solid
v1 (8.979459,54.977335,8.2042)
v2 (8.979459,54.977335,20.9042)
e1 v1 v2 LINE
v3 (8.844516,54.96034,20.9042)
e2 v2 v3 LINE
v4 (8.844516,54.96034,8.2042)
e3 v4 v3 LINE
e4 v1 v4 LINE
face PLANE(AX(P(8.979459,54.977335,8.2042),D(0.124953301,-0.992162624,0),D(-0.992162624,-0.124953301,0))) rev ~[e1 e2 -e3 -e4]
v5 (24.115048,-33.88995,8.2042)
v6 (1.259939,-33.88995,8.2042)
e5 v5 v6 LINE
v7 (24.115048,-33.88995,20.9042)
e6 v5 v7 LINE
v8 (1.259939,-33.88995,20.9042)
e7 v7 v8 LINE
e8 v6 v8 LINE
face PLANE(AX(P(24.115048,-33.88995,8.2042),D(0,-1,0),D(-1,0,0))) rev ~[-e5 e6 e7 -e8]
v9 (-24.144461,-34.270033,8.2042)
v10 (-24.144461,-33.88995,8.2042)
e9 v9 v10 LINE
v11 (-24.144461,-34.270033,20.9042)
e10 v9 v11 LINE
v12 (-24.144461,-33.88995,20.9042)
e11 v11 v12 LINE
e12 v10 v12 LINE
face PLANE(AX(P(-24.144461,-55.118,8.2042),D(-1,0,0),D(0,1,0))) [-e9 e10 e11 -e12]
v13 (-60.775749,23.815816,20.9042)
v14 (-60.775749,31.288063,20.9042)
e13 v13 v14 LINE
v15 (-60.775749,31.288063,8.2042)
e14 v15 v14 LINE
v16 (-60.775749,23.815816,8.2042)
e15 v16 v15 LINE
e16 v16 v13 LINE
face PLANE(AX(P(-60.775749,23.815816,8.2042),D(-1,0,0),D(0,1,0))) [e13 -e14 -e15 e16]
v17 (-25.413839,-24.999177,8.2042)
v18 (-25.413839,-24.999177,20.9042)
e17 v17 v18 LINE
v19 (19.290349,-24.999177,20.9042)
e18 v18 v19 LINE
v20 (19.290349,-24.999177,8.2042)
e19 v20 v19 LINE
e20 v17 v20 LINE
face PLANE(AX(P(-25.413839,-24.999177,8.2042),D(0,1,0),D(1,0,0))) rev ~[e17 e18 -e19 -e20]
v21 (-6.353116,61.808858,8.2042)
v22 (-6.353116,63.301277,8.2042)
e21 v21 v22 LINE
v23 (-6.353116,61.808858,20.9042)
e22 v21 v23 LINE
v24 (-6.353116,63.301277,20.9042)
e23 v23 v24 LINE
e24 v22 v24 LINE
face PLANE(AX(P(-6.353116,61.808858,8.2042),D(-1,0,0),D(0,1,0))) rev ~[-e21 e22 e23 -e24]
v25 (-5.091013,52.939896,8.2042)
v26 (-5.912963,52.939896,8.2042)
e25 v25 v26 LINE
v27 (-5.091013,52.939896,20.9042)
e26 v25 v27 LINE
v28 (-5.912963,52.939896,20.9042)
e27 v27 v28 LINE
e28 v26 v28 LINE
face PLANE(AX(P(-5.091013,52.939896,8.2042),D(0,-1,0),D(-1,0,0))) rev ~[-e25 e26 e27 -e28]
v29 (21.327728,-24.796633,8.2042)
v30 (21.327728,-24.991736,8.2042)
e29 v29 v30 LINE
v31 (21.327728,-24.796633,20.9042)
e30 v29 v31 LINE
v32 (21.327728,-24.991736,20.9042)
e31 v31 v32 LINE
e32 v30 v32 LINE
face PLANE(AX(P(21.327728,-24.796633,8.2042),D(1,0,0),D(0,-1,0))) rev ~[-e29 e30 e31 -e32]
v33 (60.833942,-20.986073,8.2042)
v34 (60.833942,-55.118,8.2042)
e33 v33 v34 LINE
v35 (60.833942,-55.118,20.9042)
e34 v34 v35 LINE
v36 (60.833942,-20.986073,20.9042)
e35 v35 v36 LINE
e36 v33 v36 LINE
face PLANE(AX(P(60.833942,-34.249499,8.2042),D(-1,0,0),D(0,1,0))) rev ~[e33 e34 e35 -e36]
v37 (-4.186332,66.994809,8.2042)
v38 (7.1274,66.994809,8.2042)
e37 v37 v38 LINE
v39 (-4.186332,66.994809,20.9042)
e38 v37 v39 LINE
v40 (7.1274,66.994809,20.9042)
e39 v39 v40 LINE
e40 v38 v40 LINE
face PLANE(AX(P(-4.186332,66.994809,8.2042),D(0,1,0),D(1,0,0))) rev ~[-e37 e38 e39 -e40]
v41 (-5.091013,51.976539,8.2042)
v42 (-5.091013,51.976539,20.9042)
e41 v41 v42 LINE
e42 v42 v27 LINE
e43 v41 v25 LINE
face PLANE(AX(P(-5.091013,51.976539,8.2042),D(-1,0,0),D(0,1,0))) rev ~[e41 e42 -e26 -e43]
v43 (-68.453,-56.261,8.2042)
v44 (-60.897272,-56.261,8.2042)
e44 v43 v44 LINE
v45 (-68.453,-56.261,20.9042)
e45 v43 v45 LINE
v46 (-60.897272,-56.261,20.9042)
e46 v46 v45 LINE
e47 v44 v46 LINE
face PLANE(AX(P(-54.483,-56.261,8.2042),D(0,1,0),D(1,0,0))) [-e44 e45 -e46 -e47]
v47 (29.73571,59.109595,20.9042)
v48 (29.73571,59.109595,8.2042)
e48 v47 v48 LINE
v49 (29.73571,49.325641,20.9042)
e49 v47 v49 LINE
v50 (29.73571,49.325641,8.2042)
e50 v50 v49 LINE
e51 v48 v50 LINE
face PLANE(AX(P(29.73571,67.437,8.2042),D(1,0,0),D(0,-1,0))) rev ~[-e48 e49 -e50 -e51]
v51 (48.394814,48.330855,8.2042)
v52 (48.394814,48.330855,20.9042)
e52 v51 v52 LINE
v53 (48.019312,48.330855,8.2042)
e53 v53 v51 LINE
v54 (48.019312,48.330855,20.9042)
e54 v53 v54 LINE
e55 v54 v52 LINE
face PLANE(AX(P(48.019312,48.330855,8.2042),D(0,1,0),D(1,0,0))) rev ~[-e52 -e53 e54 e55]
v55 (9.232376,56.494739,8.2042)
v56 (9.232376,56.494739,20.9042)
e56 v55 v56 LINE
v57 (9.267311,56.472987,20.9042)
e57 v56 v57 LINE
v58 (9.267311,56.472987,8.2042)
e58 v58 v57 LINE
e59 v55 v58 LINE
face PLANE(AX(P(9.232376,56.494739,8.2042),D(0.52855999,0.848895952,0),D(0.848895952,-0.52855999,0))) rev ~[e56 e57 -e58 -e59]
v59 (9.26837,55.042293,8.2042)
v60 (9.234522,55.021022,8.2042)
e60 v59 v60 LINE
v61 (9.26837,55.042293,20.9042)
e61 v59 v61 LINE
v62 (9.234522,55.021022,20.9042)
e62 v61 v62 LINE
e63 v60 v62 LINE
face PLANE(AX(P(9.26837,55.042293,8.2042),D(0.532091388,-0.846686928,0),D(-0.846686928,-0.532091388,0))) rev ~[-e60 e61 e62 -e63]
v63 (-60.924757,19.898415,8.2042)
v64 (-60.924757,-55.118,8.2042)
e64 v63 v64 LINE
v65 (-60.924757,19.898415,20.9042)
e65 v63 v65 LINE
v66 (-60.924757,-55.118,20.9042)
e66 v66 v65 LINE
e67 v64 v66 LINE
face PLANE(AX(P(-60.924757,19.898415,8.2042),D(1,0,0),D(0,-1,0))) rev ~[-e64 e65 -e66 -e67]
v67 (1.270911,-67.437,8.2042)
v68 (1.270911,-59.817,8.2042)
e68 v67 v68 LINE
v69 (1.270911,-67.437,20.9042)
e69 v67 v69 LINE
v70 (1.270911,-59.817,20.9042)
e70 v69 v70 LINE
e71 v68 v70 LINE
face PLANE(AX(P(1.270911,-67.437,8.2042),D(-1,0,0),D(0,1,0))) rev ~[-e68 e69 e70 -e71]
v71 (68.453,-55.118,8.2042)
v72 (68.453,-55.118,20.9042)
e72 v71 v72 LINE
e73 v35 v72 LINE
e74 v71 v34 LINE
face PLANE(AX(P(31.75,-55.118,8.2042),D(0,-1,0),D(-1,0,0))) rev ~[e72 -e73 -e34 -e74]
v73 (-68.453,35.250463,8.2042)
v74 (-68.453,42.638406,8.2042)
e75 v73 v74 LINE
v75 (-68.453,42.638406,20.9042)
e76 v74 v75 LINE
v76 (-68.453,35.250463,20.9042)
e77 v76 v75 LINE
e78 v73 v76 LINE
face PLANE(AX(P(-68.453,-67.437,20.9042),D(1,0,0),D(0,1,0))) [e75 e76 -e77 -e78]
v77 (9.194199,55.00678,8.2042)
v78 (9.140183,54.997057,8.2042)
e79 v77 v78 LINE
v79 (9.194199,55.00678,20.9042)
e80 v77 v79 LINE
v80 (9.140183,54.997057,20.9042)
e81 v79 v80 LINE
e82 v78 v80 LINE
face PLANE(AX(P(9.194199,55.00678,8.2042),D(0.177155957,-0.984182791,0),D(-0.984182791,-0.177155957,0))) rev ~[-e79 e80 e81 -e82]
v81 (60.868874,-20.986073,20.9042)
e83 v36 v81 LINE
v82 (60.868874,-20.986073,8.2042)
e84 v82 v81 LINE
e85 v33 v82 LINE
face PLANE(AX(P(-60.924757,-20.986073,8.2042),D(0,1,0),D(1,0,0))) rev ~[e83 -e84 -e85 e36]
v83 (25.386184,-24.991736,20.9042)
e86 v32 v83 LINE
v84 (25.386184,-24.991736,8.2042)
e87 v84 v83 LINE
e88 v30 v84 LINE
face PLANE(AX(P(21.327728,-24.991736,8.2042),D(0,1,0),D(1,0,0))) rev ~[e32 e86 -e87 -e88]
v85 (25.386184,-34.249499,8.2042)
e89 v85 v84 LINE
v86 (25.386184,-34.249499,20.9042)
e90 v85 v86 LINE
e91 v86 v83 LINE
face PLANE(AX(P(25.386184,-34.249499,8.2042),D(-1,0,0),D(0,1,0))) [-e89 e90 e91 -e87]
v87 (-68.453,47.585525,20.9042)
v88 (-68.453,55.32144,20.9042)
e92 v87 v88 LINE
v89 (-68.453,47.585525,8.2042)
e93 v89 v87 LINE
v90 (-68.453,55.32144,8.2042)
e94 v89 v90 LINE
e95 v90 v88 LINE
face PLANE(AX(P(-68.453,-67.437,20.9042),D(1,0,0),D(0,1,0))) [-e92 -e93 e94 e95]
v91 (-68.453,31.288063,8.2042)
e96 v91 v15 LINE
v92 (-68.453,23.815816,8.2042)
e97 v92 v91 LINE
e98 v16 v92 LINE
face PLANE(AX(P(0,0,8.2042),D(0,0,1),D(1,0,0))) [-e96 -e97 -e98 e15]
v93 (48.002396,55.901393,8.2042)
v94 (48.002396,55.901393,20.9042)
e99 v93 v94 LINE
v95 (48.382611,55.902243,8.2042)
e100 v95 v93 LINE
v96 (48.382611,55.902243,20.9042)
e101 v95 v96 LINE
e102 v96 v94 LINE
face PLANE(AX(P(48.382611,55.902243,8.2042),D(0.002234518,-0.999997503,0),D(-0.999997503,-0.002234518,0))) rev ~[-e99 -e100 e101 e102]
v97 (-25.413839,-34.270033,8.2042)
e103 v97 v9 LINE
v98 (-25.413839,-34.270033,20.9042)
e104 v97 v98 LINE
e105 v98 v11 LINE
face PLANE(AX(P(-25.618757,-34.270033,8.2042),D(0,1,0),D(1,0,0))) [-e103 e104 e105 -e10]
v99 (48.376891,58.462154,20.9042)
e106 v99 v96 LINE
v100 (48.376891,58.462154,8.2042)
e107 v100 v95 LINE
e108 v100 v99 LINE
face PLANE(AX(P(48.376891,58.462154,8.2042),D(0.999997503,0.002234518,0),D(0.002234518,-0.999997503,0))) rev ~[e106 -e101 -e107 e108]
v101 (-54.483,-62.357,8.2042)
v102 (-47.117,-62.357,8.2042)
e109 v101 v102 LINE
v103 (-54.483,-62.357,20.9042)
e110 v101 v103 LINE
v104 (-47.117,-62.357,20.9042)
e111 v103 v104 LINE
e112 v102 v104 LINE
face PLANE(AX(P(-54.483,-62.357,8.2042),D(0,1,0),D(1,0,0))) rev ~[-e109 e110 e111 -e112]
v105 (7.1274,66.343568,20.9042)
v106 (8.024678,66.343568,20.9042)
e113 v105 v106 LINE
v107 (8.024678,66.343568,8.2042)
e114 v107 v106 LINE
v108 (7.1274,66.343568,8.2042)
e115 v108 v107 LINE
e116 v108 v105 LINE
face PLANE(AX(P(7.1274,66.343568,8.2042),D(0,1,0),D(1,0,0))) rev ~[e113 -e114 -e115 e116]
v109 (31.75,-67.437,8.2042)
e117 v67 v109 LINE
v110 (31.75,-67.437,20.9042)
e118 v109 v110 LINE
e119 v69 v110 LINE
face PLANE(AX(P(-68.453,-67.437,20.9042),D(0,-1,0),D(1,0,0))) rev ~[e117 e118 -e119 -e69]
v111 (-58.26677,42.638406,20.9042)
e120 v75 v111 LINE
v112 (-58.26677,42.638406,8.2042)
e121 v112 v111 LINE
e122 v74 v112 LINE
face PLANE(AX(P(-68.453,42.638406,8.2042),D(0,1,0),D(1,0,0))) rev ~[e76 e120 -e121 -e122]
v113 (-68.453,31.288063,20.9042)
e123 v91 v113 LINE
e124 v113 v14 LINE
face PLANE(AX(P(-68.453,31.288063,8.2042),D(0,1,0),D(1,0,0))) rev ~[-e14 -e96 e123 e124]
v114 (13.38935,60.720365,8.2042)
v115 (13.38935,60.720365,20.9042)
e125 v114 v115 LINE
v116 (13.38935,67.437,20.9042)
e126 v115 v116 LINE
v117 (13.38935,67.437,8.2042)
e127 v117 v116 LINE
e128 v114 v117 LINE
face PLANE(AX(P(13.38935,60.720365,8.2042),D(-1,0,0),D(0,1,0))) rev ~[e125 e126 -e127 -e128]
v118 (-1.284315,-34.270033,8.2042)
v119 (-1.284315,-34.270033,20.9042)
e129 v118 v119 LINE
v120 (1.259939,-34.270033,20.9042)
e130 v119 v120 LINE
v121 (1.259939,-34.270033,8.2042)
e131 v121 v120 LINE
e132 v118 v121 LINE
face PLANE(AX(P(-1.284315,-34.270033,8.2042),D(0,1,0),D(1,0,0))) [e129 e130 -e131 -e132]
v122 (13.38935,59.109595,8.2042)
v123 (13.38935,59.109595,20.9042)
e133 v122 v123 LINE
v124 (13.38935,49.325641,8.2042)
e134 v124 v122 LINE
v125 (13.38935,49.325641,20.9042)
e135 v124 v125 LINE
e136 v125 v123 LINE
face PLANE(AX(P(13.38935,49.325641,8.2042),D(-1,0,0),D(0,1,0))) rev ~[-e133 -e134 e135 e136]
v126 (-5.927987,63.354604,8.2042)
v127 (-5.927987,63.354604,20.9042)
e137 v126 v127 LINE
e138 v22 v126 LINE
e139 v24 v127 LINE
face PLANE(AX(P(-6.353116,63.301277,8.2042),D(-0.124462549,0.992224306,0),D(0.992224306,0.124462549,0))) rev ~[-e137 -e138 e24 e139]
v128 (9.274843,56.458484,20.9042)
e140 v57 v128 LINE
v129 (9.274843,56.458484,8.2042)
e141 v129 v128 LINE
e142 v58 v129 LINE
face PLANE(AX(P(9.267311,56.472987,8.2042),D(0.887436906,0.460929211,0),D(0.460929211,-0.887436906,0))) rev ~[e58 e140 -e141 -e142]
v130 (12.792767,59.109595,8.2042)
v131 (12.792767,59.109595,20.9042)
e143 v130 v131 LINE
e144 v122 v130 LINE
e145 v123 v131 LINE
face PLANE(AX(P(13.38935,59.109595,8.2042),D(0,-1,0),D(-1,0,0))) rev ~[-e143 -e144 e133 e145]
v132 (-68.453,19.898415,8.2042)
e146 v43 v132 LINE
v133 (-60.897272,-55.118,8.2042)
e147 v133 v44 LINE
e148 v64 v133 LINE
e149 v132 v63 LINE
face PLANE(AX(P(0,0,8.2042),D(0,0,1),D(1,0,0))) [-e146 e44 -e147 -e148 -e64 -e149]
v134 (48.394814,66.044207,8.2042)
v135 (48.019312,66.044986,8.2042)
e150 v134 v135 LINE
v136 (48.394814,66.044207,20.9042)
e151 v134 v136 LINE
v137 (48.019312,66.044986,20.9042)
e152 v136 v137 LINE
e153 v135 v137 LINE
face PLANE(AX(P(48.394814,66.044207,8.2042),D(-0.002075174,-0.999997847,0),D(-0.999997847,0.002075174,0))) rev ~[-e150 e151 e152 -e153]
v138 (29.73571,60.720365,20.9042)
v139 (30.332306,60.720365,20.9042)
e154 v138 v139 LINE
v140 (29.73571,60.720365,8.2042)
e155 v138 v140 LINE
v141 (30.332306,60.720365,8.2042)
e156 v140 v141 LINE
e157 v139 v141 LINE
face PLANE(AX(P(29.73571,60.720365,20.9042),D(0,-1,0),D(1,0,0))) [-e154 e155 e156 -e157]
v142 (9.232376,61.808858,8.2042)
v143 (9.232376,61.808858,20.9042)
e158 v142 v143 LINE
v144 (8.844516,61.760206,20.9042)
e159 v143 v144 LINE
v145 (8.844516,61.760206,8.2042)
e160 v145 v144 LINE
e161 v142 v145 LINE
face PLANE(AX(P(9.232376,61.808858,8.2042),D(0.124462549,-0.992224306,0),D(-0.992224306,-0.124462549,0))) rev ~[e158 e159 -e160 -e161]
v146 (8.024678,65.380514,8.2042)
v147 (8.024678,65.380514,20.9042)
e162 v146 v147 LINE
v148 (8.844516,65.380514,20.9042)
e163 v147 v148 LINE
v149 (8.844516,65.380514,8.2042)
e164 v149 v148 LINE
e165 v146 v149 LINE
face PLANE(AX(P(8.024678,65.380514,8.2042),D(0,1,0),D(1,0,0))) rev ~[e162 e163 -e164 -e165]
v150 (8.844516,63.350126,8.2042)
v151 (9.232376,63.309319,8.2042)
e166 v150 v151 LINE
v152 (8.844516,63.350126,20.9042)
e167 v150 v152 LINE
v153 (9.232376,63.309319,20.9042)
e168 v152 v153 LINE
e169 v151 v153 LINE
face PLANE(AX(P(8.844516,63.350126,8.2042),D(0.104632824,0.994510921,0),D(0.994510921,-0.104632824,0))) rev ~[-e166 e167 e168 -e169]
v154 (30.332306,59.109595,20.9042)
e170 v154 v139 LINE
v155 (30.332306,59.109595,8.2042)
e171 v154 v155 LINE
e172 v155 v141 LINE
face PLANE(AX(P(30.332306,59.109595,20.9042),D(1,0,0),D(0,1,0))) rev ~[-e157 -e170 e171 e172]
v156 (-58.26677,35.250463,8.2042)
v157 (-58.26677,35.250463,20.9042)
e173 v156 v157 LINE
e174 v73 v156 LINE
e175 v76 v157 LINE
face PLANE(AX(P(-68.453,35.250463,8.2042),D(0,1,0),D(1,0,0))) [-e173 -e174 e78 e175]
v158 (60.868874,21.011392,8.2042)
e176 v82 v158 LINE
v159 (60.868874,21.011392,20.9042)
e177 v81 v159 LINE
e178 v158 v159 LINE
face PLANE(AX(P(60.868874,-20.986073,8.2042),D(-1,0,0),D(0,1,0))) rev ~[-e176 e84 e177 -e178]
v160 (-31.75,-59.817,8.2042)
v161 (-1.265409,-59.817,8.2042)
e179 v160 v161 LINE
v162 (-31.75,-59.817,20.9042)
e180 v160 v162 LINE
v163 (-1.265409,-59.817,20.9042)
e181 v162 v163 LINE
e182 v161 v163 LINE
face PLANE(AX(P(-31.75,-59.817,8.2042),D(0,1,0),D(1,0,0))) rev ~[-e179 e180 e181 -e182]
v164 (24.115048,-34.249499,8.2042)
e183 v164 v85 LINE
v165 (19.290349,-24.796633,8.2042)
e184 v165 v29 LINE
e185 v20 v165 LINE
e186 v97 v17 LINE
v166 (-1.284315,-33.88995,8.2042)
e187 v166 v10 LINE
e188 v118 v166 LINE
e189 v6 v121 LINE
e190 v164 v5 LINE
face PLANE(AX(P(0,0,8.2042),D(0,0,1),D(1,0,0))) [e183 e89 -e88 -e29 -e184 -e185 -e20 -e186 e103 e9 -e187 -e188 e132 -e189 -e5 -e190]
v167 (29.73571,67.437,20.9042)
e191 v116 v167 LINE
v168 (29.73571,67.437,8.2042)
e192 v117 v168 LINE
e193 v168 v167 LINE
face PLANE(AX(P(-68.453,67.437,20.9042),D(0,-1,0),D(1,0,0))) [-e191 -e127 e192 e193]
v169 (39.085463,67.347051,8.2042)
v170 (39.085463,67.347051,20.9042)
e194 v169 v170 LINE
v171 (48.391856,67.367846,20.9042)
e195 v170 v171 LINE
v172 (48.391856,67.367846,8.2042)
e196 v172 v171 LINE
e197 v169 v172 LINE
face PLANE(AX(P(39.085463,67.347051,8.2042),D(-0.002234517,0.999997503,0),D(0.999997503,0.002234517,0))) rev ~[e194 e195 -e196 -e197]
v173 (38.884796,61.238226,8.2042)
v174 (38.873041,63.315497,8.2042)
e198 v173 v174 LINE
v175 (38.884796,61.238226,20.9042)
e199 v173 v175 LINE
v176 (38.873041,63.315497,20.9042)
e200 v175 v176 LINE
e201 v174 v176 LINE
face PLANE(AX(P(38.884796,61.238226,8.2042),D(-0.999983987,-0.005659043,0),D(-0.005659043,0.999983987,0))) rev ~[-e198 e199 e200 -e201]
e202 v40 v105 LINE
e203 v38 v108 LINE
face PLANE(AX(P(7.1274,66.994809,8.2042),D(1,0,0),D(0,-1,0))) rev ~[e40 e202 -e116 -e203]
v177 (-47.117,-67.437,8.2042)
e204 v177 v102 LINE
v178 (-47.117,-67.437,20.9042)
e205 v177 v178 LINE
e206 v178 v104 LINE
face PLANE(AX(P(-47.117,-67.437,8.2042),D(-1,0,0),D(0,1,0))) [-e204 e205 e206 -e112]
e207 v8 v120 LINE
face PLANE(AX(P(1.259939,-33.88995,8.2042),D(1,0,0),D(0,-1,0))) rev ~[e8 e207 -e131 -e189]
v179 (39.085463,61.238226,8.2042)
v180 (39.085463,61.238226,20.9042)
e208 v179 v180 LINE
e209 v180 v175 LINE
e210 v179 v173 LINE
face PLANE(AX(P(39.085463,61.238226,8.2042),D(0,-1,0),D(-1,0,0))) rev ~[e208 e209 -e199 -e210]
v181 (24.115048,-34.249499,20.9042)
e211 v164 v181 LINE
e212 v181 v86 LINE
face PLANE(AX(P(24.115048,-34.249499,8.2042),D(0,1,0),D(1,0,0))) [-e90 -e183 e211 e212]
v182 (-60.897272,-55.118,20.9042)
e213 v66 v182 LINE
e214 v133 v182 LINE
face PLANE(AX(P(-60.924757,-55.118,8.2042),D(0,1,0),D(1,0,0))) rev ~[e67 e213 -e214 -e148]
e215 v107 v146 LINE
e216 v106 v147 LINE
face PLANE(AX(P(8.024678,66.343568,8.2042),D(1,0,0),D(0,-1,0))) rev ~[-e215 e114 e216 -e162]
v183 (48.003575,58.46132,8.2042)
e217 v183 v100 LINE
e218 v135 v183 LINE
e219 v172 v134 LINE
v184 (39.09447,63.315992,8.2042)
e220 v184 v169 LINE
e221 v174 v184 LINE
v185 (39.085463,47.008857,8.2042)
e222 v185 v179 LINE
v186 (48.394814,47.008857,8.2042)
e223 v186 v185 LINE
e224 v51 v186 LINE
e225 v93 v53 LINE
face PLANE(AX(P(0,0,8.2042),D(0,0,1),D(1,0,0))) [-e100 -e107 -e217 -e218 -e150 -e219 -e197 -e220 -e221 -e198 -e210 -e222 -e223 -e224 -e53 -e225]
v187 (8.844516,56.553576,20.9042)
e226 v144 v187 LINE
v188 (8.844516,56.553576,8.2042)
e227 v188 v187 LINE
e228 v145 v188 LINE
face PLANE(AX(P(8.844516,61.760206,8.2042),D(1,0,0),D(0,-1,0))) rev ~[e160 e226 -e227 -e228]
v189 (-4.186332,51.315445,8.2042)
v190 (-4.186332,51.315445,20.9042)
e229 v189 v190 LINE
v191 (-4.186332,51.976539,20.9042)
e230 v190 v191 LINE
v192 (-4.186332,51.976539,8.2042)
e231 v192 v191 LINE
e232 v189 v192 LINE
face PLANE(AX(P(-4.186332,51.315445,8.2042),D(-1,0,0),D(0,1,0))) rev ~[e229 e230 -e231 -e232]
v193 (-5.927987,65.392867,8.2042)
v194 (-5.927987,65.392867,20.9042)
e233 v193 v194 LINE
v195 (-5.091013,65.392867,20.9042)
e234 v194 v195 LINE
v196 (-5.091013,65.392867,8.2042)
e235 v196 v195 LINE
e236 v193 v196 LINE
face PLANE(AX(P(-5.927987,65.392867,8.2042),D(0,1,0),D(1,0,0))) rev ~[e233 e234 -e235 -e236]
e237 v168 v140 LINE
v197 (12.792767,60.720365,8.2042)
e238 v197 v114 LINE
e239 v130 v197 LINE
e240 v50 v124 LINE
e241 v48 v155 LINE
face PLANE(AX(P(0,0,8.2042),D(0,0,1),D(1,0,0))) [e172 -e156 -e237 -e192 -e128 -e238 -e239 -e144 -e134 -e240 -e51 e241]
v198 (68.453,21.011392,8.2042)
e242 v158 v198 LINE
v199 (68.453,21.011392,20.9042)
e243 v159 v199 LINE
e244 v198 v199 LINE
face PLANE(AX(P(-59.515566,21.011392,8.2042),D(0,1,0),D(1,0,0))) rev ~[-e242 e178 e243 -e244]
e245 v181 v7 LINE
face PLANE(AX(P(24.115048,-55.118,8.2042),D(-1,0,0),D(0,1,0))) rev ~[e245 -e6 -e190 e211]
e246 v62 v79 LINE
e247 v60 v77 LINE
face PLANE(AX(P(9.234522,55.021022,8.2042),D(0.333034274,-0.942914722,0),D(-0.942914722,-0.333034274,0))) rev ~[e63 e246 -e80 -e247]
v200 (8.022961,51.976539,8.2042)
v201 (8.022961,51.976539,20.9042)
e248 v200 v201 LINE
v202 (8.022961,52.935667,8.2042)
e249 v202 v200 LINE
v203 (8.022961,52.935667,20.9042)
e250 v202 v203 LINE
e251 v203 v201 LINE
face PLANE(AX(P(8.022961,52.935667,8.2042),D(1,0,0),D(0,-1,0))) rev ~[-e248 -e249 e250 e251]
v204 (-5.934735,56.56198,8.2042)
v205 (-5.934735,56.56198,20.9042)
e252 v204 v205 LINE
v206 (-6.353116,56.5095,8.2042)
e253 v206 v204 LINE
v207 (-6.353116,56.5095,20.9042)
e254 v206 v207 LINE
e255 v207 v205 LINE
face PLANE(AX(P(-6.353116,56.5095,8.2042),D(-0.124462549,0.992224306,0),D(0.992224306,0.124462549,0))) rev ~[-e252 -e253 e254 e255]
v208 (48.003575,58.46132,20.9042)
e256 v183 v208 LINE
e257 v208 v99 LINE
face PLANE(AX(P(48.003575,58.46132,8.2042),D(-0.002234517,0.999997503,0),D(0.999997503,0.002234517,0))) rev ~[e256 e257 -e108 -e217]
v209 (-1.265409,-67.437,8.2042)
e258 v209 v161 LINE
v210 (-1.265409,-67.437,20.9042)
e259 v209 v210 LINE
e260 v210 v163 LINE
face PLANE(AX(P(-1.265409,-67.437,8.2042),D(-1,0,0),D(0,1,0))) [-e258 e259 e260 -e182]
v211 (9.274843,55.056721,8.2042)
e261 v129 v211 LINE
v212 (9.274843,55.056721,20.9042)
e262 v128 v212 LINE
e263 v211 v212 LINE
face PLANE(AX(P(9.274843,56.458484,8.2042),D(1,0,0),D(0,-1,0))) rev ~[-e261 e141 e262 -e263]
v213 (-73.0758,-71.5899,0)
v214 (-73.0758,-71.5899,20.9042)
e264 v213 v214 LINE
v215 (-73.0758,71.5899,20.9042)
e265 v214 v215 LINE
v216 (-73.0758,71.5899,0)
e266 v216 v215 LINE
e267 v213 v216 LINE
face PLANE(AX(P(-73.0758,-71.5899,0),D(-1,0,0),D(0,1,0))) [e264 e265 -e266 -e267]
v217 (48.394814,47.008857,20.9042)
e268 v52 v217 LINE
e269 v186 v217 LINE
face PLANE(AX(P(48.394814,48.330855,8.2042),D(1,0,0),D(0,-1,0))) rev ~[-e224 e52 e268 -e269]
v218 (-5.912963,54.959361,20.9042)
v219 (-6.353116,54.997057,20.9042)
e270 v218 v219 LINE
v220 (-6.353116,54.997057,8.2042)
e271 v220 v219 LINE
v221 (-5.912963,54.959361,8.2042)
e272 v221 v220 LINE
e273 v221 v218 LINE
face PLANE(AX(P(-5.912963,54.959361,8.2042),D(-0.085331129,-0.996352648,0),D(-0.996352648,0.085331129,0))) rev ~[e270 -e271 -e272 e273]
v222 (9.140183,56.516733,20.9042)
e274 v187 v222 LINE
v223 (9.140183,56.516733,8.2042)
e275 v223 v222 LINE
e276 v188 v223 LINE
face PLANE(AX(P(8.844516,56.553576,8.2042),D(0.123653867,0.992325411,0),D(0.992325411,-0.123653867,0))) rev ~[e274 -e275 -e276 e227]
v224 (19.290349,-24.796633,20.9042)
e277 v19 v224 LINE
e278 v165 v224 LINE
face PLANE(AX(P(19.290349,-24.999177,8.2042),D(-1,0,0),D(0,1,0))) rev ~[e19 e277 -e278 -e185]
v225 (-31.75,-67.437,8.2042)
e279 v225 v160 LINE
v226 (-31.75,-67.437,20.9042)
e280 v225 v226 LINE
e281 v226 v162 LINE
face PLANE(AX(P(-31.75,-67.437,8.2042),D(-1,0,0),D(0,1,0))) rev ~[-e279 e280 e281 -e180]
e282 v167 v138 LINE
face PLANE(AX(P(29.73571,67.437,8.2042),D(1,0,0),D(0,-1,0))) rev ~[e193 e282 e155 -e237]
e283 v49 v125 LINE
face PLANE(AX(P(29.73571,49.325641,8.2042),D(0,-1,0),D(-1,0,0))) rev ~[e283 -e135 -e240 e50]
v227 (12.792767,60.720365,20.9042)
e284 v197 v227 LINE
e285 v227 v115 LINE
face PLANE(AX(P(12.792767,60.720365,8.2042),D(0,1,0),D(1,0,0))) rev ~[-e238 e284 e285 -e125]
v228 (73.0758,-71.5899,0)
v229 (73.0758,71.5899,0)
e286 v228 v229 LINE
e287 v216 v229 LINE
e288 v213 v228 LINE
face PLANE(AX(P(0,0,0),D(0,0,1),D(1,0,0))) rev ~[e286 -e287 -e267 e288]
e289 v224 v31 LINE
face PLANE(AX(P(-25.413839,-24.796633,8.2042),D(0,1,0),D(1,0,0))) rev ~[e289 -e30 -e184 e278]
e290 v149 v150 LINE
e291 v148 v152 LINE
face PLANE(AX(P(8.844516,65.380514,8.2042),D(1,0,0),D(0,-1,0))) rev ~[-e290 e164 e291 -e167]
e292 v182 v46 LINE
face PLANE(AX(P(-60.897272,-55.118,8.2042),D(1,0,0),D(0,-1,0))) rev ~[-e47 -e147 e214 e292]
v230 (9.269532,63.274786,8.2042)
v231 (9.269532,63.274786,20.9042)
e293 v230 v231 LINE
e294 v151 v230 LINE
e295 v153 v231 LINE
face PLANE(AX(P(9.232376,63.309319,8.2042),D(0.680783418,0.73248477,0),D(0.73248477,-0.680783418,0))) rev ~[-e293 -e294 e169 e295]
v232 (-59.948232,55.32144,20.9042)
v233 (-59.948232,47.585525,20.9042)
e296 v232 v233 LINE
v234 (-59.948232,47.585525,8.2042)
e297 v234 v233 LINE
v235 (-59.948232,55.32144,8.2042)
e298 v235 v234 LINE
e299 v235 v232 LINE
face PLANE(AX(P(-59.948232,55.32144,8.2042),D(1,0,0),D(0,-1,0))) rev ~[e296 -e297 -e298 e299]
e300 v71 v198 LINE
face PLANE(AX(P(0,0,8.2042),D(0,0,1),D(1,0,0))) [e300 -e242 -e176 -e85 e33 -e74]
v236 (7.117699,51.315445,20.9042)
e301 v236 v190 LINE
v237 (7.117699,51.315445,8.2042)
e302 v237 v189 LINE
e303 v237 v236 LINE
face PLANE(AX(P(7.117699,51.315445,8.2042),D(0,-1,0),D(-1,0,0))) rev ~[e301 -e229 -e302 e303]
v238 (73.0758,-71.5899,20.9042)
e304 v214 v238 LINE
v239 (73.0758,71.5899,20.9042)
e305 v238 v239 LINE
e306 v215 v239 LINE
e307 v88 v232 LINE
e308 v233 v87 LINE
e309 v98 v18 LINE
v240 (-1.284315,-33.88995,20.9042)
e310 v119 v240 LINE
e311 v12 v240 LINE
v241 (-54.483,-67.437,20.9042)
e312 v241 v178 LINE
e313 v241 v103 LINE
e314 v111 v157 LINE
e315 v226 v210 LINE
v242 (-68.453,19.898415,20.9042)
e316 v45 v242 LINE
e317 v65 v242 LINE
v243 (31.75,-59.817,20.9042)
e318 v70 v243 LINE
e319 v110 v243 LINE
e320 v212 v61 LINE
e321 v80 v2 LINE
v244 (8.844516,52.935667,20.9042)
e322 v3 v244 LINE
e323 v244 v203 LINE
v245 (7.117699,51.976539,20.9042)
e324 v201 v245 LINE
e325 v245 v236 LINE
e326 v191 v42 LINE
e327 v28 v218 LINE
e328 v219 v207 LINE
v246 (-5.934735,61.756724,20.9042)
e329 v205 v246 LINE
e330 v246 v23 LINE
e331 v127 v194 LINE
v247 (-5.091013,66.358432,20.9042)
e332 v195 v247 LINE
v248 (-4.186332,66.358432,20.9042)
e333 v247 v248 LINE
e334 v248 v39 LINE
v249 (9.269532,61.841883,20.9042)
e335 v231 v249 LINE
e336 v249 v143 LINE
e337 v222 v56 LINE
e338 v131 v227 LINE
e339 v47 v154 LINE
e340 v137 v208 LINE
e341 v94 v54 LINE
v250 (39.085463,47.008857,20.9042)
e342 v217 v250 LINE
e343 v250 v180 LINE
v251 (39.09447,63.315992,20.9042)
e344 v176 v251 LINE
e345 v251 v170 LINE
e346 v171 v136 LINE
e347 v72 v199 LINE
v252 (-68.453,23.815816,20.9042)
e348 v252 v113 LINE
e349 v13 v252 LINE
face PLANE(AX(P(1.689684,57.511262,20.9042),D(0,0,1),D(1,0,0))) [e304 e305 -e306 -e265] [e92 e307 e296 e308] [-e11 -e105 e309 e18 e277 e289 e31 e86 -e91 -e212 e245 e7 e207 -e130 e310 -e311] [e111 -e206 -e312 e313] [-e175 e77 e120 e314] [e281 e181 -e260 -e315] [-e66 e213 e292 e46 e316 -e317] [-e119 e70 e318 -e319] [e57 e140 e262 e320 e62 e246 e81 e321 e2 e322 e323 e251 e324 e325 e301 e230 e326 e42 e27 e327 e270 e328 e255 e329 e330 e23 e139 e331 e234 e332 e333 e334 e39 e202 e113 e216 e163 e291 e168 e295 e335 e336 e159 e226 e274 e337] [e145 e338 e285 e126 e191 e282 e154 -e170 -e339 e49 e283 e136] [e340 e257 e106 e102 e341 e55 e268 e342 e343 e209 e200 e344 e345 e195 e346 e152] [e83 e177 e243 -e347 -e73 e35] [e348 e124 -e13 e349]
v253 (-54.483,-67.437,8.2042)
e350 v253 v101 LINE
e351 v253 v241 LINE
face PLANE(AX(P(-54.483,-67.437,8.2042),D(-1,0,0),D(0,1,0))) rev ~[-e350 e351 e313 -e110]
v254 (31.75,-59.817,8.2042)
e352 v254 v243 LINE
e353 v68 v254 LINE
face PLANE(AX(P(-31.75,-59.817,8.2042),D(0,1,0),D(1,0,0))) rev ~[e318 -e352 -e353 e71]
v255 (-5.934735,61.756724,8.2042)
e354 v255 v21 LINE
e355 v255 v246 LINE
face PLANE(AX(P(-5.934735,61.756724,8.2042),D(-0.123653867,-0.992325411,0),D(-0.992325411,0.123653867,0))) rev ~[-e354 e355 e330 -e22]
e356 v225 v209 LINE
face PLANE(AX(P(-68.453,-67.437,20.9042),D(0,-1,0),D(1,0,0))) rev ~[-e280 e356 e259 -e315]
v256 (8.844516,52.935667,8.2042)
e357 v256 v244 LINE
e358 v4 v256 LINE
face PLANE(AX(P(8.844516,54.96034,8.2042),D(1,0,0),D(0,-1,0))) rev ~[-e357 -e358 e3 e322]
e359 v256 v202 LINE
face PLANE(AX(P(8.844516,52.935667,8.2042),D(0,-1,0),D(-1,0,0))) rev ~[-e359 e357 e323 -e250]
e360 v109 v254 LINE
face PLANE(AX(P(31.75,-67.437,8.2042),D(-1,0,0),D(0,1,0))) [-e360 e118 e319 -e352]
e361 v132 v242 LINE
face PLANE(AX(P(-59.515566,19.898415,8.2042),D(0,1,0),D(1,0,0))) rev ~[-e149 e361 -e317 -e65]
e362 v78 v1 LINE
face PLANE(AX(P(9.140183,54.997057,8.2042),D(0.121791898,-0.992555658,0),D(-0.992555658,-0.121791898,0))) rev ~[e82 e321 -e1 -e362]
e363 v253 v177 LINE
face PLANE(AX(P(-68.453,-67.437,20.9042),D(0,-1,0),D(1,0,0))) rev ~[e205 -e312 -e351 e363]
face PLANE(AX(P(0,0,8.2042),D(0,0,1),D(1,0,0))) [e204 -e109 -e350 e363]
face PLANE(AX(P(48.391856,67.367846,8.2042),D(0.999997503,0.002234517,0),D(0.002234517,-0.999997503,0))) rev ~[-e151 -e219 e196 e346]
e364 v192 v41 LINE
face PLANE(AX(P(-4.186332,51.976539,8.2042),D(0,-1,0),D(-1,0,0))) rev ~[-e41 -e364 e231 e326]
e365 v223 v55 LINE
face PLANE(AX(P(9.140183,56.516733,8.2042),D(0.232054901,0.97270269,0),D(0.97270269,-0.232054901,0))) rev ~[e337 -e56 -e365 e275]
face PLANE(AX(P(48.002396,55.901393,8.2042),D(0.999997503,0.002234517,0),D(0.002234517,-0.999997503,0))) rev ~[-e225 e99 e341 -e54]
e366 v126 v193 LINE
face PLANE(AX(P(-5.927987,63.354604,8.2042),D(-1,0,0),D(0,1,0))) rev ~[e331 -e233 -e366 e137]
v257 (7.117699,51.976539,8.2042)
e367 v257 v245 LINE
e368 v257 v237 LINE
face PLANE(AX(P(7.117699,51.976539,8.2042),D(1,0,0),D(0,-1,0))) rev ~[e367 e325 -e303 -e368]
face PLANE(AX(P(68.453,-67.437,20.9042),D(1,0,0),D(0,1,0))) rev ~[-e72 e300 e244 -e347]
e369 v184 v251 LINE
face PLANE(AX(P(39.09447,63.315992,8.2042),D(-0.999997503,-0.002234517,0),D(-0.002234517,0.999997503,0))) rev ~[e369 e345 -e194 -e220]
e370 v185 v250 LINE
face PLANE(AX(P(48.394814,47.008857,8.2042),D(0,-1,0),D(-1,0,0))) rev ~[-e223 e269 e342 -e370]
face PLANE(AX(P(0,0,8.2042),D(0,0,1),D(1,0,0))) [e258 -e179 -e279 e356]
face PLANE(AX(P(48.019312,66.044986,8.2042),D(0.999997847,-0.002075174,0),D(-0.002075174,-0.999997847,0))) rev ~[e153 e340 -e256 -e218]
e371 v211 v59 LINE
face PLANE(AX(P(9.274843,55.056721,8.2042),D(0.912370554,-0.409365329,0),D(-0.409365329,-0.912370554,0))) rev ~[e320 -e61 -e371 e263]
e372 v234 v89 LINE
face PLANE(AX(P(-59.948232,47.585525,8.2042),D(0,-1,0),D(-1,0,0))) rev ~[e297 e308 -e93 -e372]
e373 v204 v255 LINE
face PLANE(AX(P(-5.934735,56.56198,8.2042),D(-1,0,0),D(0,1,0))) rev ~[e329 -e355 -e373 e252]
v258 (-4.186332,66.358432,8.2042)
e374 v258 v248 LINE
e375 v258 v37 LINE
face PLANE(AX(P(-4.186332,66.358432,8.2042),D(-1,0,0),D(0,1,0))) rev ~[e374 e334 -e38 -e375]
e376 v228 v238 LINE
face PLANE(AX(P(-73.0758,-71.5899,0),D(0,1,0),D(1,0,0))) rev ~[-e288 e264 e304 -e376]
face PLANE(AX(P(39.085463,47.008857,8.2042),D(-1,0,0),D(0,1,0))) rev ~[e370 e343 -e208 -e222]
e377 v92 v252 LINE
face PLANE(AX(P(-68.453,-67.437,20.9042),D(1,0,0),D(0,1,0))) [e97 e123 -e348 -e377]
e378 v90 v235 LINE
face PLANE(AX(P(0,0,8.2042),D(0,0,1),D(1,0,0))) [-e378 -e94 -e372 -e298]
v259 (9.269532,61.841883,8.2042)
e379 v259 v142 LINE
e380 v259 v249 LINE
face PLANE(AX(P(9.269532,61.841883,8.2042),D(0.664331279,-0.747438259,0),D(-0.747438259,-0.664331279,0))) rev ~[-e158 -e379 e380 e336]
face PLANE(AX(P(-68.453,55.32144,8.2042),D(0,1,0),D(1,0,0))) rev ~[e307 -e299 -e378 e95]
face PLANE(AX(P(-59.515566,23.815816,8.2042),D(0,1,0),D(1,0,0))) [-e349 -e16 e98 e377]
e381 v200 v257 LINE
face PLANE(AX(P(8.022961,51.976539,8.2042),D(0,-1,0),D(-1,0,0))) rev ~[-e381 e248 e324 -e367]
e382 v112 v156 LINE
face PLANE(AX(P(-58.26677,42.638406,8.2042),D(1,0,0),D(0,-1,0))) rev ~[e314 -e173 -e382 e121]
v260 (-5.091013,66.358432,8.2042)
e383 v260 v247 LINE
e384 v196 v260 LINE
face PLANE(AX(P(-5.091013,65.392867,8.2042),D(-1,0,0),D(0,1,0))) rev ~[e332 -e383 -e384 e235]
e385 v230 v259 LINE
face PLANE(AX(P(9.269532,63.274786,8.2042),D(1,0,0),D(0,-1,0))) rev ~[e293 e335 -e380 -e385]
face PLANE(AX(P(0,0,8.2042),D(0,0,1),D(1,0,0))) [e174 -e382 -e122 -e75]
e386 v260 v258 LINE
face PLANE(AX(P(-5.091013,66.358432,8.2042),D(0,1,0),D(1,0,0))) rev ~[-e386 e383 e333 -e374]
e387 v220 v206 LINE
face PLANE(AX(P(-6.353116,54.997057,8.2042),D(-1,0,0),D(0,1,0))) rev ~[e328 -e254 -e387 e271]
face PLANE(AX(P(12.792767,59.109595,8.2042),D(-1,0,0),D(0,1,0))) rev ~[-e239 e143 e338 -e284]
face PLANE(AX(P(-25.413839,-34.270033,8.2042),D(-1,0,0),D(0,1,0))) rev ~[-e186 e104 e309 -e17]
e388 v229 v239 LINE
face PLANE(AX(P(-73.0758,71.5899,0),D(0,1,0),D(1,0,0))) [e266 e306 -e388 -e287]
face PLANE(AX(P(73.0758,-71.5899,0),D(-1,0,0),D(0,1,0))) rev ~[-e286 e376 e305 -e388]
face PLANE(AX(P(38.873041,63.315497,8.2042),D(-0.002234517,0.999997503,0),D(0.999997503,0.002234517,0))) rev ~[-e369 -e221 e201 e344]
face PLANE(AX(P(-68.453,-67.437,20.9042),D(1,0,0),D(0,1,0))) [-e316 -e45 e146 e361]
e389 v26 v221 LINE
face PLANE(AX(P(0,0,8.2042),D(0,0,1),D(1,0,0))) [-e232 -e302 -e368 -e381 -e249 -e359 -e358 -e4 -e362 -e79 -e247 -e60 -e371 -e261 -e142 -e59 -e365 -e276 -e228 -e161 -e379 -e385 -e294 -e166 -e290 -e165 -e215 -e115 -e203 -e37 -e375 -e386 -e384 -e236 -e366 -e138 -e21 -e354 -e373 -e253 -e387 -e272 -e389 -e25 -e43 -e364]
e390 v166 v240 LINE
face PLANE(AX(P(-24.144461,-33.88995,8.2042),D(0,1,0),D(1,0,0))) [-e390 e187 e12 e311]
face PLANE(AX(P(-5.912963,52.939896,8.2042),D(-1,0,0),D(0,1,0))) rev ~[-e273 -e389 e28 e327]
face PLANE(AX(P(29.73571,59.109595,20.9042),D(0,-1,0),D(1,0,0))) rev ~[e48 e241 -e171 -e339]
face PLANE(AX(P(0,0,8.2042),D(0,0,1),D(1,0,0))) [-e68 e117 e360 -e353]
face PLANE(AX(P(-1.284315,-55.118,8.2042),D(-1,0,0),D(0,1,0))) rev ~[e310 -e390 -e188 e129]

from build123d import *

# Parameters (mm, degrees)
F0_W      = 146.1516
F0_H      = 143.1798
F1_DEPTH  = 20.9042
F2_W      = 136.906
F2_H      = 134.874
F3_DEPTH  = 12.7
F4_W      = 13.97
F4_H      = 11.176
F5_DEPTH  = 12.7
F6_W      = 22.733
F6_H      = 6.096
F7_DEPTH  = 12.7
F8_W      = 15.367
F8_H      = 5.08
F9_DEPTH  = 12.7
F10_W     = 36.703
F10_H     = 12.319
F11_DEPTH = 12.7
F13_DEPTH = 12.7
F14_W     = 22.83968
F14_H     = 21.22805
F15_DEPTH = 12.7
F16_W     = 3.0399242607
F16_H     = 20.8479667597
F17_DEPTH = 12.7
F19_DEPTH = 12.7
F20_W     = 0.0204666441
F20_H     = 21.22805
F21_DEPTH = 12.7
F22_W     = 36.7188937962
F22_H     = 20.8685005598
F23_DEPTH = 12.7
F24_W     = 35.306
F24_H     = 13.2634267211
F25_DEPTH = 12.7
F27_DEPTH = 12.7
F28_W     = 1.4742958935
F28_H     = 20.8479667597
F29_DEPTH = 12.7
F30_W     = 0.2049181255
F30_H     = 13.2839605212
F31_DEPTH = 12.7
F32_W     = 50.9417812916
F32_H     = 3.8105603307
F33_DEPTH = 12.7
F34_W     = 0.1417576911
F34_H     = 9.2577636242
F35_DEPTH = 12.7
F36_W     = 44.7041876614
F36_H     = 0.2025440335
F37_DEPTH = 12.7
F38_W     = 8.9374343662
F38_H     = 3.9174016565
F39_DEPTH = 12.7
F40_W     = 127.9685656338
F40_H     = 2.8044246137
F41_DEPTH = 12.7
F42_W     = 120.384439826
F42_H     = 1.1129770428
F43_DEPTH = 12.7
F45_DEPTH = 12.7
F46_W     = 12.3281155104
F46_H     = 3.9624
F47_DEPTH = 12.7
F48_W     = 4.6508648958
F48_H     = 7.4722463233
F49_DEPTH = 12.7
F51_DEPTH = 12.7
F52_W     = 0.5965952
F52_H     = 1.6107708216
F53_DEPTH = 12.7
F55_DEPTH = 12.7
F57_DEPTH = 12.7
F58_DEPTH = 12.7
F59_W     = 18.6266698875
F59_H     = 19.8514753814
F60_DEPTH = 12.7
F61_W     = 2.536320244
F61_H     = 7.62
F62_DEPTH = 12.7


with BuildPart() as f1:
    # F0 (on Top) → F1 (new body)
    with BuildSketch(Plane.XY):
        Rectangle(F0_W, F0_H)
    extrude(amount=F1_DEPTH)

    # F2 (on face) → F3 (cut)
    with BuildSketch(Plane.XY.offset(20.9042)):
        Rectangle(F2_W, F2_H)
    extrude(amount=-F3_DEPTH, mode=Mode.SUBTRACT)

    # F4 (on face) → F5 (join)
    with BuildSketch(Plane.XY.offset(8.2042)):
        with Locations((-61.468, -61.849)):
            Rectangle(F4_W, F4_H)
    extrude(amount=F5_DEPTH)

    # F6 (on face) → F7 (join)
    with BuildSketch(Plane.XY.offset(8.2042)):
        with Locations((-43.1165, -59.309)):
            Rectangle(F6_W, F6_H)
    extrude(amount=F7_DEPTH)

    # F8 (on face) → F9 (join)
    with BuildSketch(Plane.XY.offset(8.2042)):
        with Locations((-39.4335, -64.897)):
            Rectangle(F8_W, F8_H)
    extrude(amount=F9_DEPTH)

    # F10 (on face) → F11 (join)
    with BuildSketch(Plane.XY.offset(8.2042)):
        with Locations((50.1015, -61.2775)):
            Rectangle(F10_W, F10_H)
    extrude(amount=F11_DEPTH)

    # F12 (on face) → F13 (join)
    with BuildSketch(Plane.XY.offset(8.2042)):
        Polygon((31.75, -56.261), (31.75, -55.118), (-60.8972720802, -55.118), (-60.8972720802, -56.261), (-31.75, -56.261), (-31.75, -59.817), (31.75, -59.817), (31.75, -57.820610702), align=None)
    extrude(amount=F13_DEPTH)

    # F14 (on face) → F15 (join)
    with BuildSketch(Plane.XY.offset(8.2042)):
        with Locations((-12.7041547344, -44.503975)):
            Rectangle(F14_W, F14_H)
    extrude(amount=F15_DEPTH)

    # F16 (on face) → F17 (join)
    with BuildSketch(Plane.XY.offset(8.2042)):
        with Locations((0.235647396, -44.6940166202)):
            Rectangle(F16_W, F16_H)
    extrude(amount=F17_DEPTH)

    # F18 (on face) → F19 (join)
    with BuildSketch(Plane.XY.offset(8.2042)):
        Polygon((24.1150483489, -33.88995), (1.2599385809, -33.88995), (1.2599385809, -34.2700332403), (1.7556095263, -34.2700332403), (1.7556095263, -55.118), (24.1150483489, -55.118), align=None)
    extrude(amount=F19_DEPTH)

    # F20 (on face) → F21 (join)
    with BuildSketch(Plane.XY.offset(8.2042)):
        with Locations((-24.1342280564, -44.503975)):
            Rectangle(F20_W, F20_H)
    extrude(amount=F21_DEPTH)

    # F22 (on face) → F23 (join)
    with BuildSketch(Plane.XY.offset(8.2042)):
        with Locations((42.474495247, -44.6837497201)):
            Rectangle(F22_W, F22_H)
    extrude(amount=F23_DEPTH)

    # F24 (on face) → F25 (join)
    with BuildSketch(Plane.XY.offset(8.2042)):
        with Locations((43.1809421451, -27.6177860796)):
            Rectangle(F24_W, F24_H)
    extrude(amount=F25_DEPTH)

    # F26 (on face) → F27 (join)
    with BuildSketch(Plane.XY.offset(8.2042)):
        Polygon((-25.618757272, -20.9860727191), (-60.924757272, -20.9860727191), (-60.924757272, -55.118), (-60.8972720802, -55.118), (-25.618757272, -55.118), align=None)
    extrude(amount=F27_DEPTH)

    # F28 (on face) → F29 (join)
    with BuildSketch(Plane.XY.offset(8.2042)):
        with Locations((-24.8816093252, -44.6940166202)):
            Rectangle(F28_W, F28_H)
    extrude(amount=F29_DEPTH)

    # F30 (on face) → F31 (join)
    with BuildSketch(Plane.XY.offset(8.2042)):
        with Locations((-25.5162982092, -27.6280529797)):
            Rectangle(F30_W, F30_H)
    extrude(amount=F31_DEPTH)

    # F32 (on face) → F33 (join)
    with BuildSketch(Plane.XY.offset(8.2042)):
        with Locations((0.0570514993, -22.8913528845)):
            Rectangle(F32_W, F32_H)
    extrude(amount=F33_DEPTH)

    # F34 (on face) → F35 (join)
    with BuildSketch(Plane.XY.offset(8.2042)):
        with Locations((25.4570632995, -29.6206176281)):
            Rectangle(F34_W, F34_H)
        Polygon((25.5279421451, -24.991735816), (25.5279421451, -24.7966330498), (21.3277284056, -24.7966330498), (21.3277284056, -24.991735816), (25.386184454, -24.991735816), align=None)
    extrude(amount=F35_DEPTH)

    # F36 (on face) → F37 (join)
    with BuildSketch(Plane.XY.offset(8.2042)):
        with Locations((-3.0617453158, -24.8979050666)):
            Rectangle(F36_W, F36_H)
    extrude(amount=F37_DEPTH)

    # F38 (on face) → F39 (join)
    with BuildSketch(Plane.XY.offset(8.2042)):
        with Locations((-63.9842828169, 21.8571154401)):
            Rectangle(F38_W, F38_H)
    extrude(amount=F39_DEPTH)

    # F40 (on face) → F41 (join)
    with BuildSketch(Plane.XY.offset(8.2042)):
        with Locations((4.4687171831, 22.4136039615)):
            Rectangle(F40_W, F40_H)
    extrude(amount=F41_DEPTH)

    # F42 (on face) → F43 (join)
    with BuildSketch(Plane.XY.offset(8.2042)):
        with Locations((0.6766542792, 20.4549031332)):
            Rectangle(F42_W, F42_H)
    extrude(amount=F43_DEPTH)

    # F44 (on face) → F45 (join)
    with BuildSketch(Plane.XY.offset(8.2042)):
        Polygon((-60.924757272, 19.8984146118), (-60.924757272, -20.9860727191), (60.8339421451, -20.9860727191), (60.8688741922, -20.9860727191), (60.8688741922, 19.8984146118), align=None)
    extrude(amount=F45_DEPTH)

    # F46 (on face) → F47 (join)
    with BuildSketch(Plane.XY.offset(8.2042)):
        with Locations((-62.2889422448, 33.2692625916)):
            Rectangle(F46_W, F46_H)
    extrude(amount=F47_DEPTH)

    # F48 (on face) → F49 (join)
    with BuildSketch(Plane.XY.offset(8.2042)):
        Polygon((-59.9482320249, 47.5855246186), (-56.1248844896, 47.5855246186), (-7.6236505993, 47.5855246186), (-7.6236505993, 67.437), (-68.453, 67.437), (-68.453, 55.3214401007), (-59.9482320249, 55.3214401007), align=None)
        Polygon((-58.2667700946, 42.6384061575), (-58.2667700946, 35.2504625916), (-56.1248844896, 35.2504625916), (-56.1248844896, 47.5855246186), (-59.9482320249, 47.5855246186), (-68.453, 47.5855246186), (-68.453, 42.6384061575), align=None)
        with Locations((-58.4503169375, 27.55193943)):
            Rectangle(F48_W, F48_H)
    extrude(amount=F49_DEPTH)

    # F50 (on face) → F51 (join)
    with BuildSketch(Plane.XY.offset(8.2042)):
        Polygon((13.3893499151, 66.3282424212), (13.3893499151, 66.38789922), (13.3893499151, 67.437), (11.0030192882, 67.437), (11.0030192882, 47.5855246186), (36.7157235742, 47.5855246186), (36.7157235742, 67.437), (29.7357104719, 67.437), (29.7357104719, 66.3282424212), (29.7357104719, 49.3256412446), (13.3893499151, 49.3256412446), (13.3893499151, 59.1095946729), (12.7927670255, 59.1095946729), (12.7927670255, 60.7203654945), (13.3893499151, 60.7203654945), align=None)
    extrude(amount=F51_DEPTH)

    # F52 (on face) → F53 (cut)
    with BuildSketch(Plane.XY.offset(20.9042)):
        with Locations((30.0340080719, 59.9149800837)):
            Rectangle(F52_W, F52_H)
    extrude(amount=-F53_DEPTH, mode=Mode.SUBTRACT)

    # F54 (on face) → F55 (join)
    with BuildSketch(Plane.XY.offset(8.2042)):
        Polygon((36.7157235742, 67.437), (36.7157235742, 61.2382255495), (36.7157235742, 47.5855246186), (36.7157235742, 44.6023866534), (68.453, 44.6733043295), (68.453, 67.437), align=None)
        Polygon((39.0854626894, 61.2382255495), (38.8847962022, 61.2382255495), (38.873040642, 63.3154974574), (39.0944701822, 63.3159922468), (39.0854626894, 67.3470505811), (48.391856432, 67.3678459326), (48.3948141336, 66.0442070147), (48.0193123221, 66.044986248), (48.0035748597, 58.4613198814), (48.376891034, 58.462154065), (48.3826112146, 55.9022428945), (48.0023957789, 55.9013932943), (48.0193123221, 48.3308546245), (48.3948141336, 48.3308546245), (48.3948141336, 47.008857131), (39.0854626894, 47.008857131), align=None, mode=Mode.SUBTRACT)
    extrude(amount=F55_DEPTH)

    # F56 (on face) → F57 (join)
    with BuildSketch(Plane.XY.offset(8.2042)):
        Polygon((-56.1248844896, 44.6023866534), (36.7157235742, 44.6023866534), (36.7157235742, 47.5855246186), (11.0030192882, 47.5855246186), (-7.6236505993, 47.5855246186), (-56.1248844896, 47.5855246186), align=None)
    extrude(amount=F57_DEPTH)

    # F58 (add): a face of the model
    f58_faces = [f1.faces().sort_by_distance(p)[0] for p in [
        (6.1865200926, 34.2136264879, 8.2042),
    ]]
    extrude(f58_faces, amount=F58_DEPTH)

    # F59 (on face) → F60 (join)
    with BuildSketch(Plane.XY.offset(8.2042)):
        with Locations((1.6896843445, 57.5112623093)):
            Rectangle(F59_W, F59_H)
        Polygon((-5.9129633009, 52.9398955405), (-5.9129633009, 54.9593605101), (-6.353115936, 54.9970567226), (-6.353115936, 56.5094996253), (-5.934735491, 56.5619803965), (-5.934735491, 61.7567235961), (-6.353115936, 61.8088580668), (-6.353115936, 63.3012766497), (-5.9279869311, 63.3546039462), (-5.9279869311, 65.3928667307), (-5.0910133868, 65.3928667307), (-5.0910133868, 66.3584321737), (-4.1863322258, 66.3584321737), (-4.1863322258, 66.9948086143), (7.1273995563, 66.9948086143), (7.1273995563, 66.3435682654), (8.0246776342, 66.3435682654), (8.0246776342, 65.3805136681), (8.8445162401, 65.3805136681), (8.8445162401, 63.3501261473), (9.2323757708, 63.3093193173), (9.2695318162, 63.2747858763), (9.2695318162, 61.8418827653), (9.2323757708, 61.8088580668), (8.8445162401, 61.7602057755), (8.8445162401, 56.5535761416), (9.1401832178, 56.5167330205), (9.2323757708, 56.4947389066), (9.2673106119, 56.4729869366), (9.2748431489, 56.4584843814), (9.2748431489, 55.0567209721), (9.2683695257, 55.0422929227), (9.234521538, 55.0210215151), (9.1941989958, 55.0067797303), (9.1401832178, 54.9970567226), (8.9794592932, 54.9773350358), (8.8445162401, 54.9603402615), (8.8445162401, 52.935667336), (8.0229612067, 52.935667336), (8.0229612067, 51.9765391946), (7.1176989004, 51.9765391946), (7.1176989004, 51.3154454529), (-4.1863322258, 51.3154454529), (-4.1863322258, 51.9765391946), (-5.0910133868, 51.9765391946), (-5.0910133868, 52.380554378), (-5.0910133868, 52.9398955405), align=None, mode=Mode.SUBTRACT)
    extrude(amount=F60_DEPTH)

    # F61 (on face) → F62 (join)
    with BuildSketch(Plane.XY.offset(8.2042)):
        with Locations((0.0027513015, -63.627)):
            Rectangle(F61_W, F61_H)
    extrude(amount=F62_DEPTH)


solid = f1.part
